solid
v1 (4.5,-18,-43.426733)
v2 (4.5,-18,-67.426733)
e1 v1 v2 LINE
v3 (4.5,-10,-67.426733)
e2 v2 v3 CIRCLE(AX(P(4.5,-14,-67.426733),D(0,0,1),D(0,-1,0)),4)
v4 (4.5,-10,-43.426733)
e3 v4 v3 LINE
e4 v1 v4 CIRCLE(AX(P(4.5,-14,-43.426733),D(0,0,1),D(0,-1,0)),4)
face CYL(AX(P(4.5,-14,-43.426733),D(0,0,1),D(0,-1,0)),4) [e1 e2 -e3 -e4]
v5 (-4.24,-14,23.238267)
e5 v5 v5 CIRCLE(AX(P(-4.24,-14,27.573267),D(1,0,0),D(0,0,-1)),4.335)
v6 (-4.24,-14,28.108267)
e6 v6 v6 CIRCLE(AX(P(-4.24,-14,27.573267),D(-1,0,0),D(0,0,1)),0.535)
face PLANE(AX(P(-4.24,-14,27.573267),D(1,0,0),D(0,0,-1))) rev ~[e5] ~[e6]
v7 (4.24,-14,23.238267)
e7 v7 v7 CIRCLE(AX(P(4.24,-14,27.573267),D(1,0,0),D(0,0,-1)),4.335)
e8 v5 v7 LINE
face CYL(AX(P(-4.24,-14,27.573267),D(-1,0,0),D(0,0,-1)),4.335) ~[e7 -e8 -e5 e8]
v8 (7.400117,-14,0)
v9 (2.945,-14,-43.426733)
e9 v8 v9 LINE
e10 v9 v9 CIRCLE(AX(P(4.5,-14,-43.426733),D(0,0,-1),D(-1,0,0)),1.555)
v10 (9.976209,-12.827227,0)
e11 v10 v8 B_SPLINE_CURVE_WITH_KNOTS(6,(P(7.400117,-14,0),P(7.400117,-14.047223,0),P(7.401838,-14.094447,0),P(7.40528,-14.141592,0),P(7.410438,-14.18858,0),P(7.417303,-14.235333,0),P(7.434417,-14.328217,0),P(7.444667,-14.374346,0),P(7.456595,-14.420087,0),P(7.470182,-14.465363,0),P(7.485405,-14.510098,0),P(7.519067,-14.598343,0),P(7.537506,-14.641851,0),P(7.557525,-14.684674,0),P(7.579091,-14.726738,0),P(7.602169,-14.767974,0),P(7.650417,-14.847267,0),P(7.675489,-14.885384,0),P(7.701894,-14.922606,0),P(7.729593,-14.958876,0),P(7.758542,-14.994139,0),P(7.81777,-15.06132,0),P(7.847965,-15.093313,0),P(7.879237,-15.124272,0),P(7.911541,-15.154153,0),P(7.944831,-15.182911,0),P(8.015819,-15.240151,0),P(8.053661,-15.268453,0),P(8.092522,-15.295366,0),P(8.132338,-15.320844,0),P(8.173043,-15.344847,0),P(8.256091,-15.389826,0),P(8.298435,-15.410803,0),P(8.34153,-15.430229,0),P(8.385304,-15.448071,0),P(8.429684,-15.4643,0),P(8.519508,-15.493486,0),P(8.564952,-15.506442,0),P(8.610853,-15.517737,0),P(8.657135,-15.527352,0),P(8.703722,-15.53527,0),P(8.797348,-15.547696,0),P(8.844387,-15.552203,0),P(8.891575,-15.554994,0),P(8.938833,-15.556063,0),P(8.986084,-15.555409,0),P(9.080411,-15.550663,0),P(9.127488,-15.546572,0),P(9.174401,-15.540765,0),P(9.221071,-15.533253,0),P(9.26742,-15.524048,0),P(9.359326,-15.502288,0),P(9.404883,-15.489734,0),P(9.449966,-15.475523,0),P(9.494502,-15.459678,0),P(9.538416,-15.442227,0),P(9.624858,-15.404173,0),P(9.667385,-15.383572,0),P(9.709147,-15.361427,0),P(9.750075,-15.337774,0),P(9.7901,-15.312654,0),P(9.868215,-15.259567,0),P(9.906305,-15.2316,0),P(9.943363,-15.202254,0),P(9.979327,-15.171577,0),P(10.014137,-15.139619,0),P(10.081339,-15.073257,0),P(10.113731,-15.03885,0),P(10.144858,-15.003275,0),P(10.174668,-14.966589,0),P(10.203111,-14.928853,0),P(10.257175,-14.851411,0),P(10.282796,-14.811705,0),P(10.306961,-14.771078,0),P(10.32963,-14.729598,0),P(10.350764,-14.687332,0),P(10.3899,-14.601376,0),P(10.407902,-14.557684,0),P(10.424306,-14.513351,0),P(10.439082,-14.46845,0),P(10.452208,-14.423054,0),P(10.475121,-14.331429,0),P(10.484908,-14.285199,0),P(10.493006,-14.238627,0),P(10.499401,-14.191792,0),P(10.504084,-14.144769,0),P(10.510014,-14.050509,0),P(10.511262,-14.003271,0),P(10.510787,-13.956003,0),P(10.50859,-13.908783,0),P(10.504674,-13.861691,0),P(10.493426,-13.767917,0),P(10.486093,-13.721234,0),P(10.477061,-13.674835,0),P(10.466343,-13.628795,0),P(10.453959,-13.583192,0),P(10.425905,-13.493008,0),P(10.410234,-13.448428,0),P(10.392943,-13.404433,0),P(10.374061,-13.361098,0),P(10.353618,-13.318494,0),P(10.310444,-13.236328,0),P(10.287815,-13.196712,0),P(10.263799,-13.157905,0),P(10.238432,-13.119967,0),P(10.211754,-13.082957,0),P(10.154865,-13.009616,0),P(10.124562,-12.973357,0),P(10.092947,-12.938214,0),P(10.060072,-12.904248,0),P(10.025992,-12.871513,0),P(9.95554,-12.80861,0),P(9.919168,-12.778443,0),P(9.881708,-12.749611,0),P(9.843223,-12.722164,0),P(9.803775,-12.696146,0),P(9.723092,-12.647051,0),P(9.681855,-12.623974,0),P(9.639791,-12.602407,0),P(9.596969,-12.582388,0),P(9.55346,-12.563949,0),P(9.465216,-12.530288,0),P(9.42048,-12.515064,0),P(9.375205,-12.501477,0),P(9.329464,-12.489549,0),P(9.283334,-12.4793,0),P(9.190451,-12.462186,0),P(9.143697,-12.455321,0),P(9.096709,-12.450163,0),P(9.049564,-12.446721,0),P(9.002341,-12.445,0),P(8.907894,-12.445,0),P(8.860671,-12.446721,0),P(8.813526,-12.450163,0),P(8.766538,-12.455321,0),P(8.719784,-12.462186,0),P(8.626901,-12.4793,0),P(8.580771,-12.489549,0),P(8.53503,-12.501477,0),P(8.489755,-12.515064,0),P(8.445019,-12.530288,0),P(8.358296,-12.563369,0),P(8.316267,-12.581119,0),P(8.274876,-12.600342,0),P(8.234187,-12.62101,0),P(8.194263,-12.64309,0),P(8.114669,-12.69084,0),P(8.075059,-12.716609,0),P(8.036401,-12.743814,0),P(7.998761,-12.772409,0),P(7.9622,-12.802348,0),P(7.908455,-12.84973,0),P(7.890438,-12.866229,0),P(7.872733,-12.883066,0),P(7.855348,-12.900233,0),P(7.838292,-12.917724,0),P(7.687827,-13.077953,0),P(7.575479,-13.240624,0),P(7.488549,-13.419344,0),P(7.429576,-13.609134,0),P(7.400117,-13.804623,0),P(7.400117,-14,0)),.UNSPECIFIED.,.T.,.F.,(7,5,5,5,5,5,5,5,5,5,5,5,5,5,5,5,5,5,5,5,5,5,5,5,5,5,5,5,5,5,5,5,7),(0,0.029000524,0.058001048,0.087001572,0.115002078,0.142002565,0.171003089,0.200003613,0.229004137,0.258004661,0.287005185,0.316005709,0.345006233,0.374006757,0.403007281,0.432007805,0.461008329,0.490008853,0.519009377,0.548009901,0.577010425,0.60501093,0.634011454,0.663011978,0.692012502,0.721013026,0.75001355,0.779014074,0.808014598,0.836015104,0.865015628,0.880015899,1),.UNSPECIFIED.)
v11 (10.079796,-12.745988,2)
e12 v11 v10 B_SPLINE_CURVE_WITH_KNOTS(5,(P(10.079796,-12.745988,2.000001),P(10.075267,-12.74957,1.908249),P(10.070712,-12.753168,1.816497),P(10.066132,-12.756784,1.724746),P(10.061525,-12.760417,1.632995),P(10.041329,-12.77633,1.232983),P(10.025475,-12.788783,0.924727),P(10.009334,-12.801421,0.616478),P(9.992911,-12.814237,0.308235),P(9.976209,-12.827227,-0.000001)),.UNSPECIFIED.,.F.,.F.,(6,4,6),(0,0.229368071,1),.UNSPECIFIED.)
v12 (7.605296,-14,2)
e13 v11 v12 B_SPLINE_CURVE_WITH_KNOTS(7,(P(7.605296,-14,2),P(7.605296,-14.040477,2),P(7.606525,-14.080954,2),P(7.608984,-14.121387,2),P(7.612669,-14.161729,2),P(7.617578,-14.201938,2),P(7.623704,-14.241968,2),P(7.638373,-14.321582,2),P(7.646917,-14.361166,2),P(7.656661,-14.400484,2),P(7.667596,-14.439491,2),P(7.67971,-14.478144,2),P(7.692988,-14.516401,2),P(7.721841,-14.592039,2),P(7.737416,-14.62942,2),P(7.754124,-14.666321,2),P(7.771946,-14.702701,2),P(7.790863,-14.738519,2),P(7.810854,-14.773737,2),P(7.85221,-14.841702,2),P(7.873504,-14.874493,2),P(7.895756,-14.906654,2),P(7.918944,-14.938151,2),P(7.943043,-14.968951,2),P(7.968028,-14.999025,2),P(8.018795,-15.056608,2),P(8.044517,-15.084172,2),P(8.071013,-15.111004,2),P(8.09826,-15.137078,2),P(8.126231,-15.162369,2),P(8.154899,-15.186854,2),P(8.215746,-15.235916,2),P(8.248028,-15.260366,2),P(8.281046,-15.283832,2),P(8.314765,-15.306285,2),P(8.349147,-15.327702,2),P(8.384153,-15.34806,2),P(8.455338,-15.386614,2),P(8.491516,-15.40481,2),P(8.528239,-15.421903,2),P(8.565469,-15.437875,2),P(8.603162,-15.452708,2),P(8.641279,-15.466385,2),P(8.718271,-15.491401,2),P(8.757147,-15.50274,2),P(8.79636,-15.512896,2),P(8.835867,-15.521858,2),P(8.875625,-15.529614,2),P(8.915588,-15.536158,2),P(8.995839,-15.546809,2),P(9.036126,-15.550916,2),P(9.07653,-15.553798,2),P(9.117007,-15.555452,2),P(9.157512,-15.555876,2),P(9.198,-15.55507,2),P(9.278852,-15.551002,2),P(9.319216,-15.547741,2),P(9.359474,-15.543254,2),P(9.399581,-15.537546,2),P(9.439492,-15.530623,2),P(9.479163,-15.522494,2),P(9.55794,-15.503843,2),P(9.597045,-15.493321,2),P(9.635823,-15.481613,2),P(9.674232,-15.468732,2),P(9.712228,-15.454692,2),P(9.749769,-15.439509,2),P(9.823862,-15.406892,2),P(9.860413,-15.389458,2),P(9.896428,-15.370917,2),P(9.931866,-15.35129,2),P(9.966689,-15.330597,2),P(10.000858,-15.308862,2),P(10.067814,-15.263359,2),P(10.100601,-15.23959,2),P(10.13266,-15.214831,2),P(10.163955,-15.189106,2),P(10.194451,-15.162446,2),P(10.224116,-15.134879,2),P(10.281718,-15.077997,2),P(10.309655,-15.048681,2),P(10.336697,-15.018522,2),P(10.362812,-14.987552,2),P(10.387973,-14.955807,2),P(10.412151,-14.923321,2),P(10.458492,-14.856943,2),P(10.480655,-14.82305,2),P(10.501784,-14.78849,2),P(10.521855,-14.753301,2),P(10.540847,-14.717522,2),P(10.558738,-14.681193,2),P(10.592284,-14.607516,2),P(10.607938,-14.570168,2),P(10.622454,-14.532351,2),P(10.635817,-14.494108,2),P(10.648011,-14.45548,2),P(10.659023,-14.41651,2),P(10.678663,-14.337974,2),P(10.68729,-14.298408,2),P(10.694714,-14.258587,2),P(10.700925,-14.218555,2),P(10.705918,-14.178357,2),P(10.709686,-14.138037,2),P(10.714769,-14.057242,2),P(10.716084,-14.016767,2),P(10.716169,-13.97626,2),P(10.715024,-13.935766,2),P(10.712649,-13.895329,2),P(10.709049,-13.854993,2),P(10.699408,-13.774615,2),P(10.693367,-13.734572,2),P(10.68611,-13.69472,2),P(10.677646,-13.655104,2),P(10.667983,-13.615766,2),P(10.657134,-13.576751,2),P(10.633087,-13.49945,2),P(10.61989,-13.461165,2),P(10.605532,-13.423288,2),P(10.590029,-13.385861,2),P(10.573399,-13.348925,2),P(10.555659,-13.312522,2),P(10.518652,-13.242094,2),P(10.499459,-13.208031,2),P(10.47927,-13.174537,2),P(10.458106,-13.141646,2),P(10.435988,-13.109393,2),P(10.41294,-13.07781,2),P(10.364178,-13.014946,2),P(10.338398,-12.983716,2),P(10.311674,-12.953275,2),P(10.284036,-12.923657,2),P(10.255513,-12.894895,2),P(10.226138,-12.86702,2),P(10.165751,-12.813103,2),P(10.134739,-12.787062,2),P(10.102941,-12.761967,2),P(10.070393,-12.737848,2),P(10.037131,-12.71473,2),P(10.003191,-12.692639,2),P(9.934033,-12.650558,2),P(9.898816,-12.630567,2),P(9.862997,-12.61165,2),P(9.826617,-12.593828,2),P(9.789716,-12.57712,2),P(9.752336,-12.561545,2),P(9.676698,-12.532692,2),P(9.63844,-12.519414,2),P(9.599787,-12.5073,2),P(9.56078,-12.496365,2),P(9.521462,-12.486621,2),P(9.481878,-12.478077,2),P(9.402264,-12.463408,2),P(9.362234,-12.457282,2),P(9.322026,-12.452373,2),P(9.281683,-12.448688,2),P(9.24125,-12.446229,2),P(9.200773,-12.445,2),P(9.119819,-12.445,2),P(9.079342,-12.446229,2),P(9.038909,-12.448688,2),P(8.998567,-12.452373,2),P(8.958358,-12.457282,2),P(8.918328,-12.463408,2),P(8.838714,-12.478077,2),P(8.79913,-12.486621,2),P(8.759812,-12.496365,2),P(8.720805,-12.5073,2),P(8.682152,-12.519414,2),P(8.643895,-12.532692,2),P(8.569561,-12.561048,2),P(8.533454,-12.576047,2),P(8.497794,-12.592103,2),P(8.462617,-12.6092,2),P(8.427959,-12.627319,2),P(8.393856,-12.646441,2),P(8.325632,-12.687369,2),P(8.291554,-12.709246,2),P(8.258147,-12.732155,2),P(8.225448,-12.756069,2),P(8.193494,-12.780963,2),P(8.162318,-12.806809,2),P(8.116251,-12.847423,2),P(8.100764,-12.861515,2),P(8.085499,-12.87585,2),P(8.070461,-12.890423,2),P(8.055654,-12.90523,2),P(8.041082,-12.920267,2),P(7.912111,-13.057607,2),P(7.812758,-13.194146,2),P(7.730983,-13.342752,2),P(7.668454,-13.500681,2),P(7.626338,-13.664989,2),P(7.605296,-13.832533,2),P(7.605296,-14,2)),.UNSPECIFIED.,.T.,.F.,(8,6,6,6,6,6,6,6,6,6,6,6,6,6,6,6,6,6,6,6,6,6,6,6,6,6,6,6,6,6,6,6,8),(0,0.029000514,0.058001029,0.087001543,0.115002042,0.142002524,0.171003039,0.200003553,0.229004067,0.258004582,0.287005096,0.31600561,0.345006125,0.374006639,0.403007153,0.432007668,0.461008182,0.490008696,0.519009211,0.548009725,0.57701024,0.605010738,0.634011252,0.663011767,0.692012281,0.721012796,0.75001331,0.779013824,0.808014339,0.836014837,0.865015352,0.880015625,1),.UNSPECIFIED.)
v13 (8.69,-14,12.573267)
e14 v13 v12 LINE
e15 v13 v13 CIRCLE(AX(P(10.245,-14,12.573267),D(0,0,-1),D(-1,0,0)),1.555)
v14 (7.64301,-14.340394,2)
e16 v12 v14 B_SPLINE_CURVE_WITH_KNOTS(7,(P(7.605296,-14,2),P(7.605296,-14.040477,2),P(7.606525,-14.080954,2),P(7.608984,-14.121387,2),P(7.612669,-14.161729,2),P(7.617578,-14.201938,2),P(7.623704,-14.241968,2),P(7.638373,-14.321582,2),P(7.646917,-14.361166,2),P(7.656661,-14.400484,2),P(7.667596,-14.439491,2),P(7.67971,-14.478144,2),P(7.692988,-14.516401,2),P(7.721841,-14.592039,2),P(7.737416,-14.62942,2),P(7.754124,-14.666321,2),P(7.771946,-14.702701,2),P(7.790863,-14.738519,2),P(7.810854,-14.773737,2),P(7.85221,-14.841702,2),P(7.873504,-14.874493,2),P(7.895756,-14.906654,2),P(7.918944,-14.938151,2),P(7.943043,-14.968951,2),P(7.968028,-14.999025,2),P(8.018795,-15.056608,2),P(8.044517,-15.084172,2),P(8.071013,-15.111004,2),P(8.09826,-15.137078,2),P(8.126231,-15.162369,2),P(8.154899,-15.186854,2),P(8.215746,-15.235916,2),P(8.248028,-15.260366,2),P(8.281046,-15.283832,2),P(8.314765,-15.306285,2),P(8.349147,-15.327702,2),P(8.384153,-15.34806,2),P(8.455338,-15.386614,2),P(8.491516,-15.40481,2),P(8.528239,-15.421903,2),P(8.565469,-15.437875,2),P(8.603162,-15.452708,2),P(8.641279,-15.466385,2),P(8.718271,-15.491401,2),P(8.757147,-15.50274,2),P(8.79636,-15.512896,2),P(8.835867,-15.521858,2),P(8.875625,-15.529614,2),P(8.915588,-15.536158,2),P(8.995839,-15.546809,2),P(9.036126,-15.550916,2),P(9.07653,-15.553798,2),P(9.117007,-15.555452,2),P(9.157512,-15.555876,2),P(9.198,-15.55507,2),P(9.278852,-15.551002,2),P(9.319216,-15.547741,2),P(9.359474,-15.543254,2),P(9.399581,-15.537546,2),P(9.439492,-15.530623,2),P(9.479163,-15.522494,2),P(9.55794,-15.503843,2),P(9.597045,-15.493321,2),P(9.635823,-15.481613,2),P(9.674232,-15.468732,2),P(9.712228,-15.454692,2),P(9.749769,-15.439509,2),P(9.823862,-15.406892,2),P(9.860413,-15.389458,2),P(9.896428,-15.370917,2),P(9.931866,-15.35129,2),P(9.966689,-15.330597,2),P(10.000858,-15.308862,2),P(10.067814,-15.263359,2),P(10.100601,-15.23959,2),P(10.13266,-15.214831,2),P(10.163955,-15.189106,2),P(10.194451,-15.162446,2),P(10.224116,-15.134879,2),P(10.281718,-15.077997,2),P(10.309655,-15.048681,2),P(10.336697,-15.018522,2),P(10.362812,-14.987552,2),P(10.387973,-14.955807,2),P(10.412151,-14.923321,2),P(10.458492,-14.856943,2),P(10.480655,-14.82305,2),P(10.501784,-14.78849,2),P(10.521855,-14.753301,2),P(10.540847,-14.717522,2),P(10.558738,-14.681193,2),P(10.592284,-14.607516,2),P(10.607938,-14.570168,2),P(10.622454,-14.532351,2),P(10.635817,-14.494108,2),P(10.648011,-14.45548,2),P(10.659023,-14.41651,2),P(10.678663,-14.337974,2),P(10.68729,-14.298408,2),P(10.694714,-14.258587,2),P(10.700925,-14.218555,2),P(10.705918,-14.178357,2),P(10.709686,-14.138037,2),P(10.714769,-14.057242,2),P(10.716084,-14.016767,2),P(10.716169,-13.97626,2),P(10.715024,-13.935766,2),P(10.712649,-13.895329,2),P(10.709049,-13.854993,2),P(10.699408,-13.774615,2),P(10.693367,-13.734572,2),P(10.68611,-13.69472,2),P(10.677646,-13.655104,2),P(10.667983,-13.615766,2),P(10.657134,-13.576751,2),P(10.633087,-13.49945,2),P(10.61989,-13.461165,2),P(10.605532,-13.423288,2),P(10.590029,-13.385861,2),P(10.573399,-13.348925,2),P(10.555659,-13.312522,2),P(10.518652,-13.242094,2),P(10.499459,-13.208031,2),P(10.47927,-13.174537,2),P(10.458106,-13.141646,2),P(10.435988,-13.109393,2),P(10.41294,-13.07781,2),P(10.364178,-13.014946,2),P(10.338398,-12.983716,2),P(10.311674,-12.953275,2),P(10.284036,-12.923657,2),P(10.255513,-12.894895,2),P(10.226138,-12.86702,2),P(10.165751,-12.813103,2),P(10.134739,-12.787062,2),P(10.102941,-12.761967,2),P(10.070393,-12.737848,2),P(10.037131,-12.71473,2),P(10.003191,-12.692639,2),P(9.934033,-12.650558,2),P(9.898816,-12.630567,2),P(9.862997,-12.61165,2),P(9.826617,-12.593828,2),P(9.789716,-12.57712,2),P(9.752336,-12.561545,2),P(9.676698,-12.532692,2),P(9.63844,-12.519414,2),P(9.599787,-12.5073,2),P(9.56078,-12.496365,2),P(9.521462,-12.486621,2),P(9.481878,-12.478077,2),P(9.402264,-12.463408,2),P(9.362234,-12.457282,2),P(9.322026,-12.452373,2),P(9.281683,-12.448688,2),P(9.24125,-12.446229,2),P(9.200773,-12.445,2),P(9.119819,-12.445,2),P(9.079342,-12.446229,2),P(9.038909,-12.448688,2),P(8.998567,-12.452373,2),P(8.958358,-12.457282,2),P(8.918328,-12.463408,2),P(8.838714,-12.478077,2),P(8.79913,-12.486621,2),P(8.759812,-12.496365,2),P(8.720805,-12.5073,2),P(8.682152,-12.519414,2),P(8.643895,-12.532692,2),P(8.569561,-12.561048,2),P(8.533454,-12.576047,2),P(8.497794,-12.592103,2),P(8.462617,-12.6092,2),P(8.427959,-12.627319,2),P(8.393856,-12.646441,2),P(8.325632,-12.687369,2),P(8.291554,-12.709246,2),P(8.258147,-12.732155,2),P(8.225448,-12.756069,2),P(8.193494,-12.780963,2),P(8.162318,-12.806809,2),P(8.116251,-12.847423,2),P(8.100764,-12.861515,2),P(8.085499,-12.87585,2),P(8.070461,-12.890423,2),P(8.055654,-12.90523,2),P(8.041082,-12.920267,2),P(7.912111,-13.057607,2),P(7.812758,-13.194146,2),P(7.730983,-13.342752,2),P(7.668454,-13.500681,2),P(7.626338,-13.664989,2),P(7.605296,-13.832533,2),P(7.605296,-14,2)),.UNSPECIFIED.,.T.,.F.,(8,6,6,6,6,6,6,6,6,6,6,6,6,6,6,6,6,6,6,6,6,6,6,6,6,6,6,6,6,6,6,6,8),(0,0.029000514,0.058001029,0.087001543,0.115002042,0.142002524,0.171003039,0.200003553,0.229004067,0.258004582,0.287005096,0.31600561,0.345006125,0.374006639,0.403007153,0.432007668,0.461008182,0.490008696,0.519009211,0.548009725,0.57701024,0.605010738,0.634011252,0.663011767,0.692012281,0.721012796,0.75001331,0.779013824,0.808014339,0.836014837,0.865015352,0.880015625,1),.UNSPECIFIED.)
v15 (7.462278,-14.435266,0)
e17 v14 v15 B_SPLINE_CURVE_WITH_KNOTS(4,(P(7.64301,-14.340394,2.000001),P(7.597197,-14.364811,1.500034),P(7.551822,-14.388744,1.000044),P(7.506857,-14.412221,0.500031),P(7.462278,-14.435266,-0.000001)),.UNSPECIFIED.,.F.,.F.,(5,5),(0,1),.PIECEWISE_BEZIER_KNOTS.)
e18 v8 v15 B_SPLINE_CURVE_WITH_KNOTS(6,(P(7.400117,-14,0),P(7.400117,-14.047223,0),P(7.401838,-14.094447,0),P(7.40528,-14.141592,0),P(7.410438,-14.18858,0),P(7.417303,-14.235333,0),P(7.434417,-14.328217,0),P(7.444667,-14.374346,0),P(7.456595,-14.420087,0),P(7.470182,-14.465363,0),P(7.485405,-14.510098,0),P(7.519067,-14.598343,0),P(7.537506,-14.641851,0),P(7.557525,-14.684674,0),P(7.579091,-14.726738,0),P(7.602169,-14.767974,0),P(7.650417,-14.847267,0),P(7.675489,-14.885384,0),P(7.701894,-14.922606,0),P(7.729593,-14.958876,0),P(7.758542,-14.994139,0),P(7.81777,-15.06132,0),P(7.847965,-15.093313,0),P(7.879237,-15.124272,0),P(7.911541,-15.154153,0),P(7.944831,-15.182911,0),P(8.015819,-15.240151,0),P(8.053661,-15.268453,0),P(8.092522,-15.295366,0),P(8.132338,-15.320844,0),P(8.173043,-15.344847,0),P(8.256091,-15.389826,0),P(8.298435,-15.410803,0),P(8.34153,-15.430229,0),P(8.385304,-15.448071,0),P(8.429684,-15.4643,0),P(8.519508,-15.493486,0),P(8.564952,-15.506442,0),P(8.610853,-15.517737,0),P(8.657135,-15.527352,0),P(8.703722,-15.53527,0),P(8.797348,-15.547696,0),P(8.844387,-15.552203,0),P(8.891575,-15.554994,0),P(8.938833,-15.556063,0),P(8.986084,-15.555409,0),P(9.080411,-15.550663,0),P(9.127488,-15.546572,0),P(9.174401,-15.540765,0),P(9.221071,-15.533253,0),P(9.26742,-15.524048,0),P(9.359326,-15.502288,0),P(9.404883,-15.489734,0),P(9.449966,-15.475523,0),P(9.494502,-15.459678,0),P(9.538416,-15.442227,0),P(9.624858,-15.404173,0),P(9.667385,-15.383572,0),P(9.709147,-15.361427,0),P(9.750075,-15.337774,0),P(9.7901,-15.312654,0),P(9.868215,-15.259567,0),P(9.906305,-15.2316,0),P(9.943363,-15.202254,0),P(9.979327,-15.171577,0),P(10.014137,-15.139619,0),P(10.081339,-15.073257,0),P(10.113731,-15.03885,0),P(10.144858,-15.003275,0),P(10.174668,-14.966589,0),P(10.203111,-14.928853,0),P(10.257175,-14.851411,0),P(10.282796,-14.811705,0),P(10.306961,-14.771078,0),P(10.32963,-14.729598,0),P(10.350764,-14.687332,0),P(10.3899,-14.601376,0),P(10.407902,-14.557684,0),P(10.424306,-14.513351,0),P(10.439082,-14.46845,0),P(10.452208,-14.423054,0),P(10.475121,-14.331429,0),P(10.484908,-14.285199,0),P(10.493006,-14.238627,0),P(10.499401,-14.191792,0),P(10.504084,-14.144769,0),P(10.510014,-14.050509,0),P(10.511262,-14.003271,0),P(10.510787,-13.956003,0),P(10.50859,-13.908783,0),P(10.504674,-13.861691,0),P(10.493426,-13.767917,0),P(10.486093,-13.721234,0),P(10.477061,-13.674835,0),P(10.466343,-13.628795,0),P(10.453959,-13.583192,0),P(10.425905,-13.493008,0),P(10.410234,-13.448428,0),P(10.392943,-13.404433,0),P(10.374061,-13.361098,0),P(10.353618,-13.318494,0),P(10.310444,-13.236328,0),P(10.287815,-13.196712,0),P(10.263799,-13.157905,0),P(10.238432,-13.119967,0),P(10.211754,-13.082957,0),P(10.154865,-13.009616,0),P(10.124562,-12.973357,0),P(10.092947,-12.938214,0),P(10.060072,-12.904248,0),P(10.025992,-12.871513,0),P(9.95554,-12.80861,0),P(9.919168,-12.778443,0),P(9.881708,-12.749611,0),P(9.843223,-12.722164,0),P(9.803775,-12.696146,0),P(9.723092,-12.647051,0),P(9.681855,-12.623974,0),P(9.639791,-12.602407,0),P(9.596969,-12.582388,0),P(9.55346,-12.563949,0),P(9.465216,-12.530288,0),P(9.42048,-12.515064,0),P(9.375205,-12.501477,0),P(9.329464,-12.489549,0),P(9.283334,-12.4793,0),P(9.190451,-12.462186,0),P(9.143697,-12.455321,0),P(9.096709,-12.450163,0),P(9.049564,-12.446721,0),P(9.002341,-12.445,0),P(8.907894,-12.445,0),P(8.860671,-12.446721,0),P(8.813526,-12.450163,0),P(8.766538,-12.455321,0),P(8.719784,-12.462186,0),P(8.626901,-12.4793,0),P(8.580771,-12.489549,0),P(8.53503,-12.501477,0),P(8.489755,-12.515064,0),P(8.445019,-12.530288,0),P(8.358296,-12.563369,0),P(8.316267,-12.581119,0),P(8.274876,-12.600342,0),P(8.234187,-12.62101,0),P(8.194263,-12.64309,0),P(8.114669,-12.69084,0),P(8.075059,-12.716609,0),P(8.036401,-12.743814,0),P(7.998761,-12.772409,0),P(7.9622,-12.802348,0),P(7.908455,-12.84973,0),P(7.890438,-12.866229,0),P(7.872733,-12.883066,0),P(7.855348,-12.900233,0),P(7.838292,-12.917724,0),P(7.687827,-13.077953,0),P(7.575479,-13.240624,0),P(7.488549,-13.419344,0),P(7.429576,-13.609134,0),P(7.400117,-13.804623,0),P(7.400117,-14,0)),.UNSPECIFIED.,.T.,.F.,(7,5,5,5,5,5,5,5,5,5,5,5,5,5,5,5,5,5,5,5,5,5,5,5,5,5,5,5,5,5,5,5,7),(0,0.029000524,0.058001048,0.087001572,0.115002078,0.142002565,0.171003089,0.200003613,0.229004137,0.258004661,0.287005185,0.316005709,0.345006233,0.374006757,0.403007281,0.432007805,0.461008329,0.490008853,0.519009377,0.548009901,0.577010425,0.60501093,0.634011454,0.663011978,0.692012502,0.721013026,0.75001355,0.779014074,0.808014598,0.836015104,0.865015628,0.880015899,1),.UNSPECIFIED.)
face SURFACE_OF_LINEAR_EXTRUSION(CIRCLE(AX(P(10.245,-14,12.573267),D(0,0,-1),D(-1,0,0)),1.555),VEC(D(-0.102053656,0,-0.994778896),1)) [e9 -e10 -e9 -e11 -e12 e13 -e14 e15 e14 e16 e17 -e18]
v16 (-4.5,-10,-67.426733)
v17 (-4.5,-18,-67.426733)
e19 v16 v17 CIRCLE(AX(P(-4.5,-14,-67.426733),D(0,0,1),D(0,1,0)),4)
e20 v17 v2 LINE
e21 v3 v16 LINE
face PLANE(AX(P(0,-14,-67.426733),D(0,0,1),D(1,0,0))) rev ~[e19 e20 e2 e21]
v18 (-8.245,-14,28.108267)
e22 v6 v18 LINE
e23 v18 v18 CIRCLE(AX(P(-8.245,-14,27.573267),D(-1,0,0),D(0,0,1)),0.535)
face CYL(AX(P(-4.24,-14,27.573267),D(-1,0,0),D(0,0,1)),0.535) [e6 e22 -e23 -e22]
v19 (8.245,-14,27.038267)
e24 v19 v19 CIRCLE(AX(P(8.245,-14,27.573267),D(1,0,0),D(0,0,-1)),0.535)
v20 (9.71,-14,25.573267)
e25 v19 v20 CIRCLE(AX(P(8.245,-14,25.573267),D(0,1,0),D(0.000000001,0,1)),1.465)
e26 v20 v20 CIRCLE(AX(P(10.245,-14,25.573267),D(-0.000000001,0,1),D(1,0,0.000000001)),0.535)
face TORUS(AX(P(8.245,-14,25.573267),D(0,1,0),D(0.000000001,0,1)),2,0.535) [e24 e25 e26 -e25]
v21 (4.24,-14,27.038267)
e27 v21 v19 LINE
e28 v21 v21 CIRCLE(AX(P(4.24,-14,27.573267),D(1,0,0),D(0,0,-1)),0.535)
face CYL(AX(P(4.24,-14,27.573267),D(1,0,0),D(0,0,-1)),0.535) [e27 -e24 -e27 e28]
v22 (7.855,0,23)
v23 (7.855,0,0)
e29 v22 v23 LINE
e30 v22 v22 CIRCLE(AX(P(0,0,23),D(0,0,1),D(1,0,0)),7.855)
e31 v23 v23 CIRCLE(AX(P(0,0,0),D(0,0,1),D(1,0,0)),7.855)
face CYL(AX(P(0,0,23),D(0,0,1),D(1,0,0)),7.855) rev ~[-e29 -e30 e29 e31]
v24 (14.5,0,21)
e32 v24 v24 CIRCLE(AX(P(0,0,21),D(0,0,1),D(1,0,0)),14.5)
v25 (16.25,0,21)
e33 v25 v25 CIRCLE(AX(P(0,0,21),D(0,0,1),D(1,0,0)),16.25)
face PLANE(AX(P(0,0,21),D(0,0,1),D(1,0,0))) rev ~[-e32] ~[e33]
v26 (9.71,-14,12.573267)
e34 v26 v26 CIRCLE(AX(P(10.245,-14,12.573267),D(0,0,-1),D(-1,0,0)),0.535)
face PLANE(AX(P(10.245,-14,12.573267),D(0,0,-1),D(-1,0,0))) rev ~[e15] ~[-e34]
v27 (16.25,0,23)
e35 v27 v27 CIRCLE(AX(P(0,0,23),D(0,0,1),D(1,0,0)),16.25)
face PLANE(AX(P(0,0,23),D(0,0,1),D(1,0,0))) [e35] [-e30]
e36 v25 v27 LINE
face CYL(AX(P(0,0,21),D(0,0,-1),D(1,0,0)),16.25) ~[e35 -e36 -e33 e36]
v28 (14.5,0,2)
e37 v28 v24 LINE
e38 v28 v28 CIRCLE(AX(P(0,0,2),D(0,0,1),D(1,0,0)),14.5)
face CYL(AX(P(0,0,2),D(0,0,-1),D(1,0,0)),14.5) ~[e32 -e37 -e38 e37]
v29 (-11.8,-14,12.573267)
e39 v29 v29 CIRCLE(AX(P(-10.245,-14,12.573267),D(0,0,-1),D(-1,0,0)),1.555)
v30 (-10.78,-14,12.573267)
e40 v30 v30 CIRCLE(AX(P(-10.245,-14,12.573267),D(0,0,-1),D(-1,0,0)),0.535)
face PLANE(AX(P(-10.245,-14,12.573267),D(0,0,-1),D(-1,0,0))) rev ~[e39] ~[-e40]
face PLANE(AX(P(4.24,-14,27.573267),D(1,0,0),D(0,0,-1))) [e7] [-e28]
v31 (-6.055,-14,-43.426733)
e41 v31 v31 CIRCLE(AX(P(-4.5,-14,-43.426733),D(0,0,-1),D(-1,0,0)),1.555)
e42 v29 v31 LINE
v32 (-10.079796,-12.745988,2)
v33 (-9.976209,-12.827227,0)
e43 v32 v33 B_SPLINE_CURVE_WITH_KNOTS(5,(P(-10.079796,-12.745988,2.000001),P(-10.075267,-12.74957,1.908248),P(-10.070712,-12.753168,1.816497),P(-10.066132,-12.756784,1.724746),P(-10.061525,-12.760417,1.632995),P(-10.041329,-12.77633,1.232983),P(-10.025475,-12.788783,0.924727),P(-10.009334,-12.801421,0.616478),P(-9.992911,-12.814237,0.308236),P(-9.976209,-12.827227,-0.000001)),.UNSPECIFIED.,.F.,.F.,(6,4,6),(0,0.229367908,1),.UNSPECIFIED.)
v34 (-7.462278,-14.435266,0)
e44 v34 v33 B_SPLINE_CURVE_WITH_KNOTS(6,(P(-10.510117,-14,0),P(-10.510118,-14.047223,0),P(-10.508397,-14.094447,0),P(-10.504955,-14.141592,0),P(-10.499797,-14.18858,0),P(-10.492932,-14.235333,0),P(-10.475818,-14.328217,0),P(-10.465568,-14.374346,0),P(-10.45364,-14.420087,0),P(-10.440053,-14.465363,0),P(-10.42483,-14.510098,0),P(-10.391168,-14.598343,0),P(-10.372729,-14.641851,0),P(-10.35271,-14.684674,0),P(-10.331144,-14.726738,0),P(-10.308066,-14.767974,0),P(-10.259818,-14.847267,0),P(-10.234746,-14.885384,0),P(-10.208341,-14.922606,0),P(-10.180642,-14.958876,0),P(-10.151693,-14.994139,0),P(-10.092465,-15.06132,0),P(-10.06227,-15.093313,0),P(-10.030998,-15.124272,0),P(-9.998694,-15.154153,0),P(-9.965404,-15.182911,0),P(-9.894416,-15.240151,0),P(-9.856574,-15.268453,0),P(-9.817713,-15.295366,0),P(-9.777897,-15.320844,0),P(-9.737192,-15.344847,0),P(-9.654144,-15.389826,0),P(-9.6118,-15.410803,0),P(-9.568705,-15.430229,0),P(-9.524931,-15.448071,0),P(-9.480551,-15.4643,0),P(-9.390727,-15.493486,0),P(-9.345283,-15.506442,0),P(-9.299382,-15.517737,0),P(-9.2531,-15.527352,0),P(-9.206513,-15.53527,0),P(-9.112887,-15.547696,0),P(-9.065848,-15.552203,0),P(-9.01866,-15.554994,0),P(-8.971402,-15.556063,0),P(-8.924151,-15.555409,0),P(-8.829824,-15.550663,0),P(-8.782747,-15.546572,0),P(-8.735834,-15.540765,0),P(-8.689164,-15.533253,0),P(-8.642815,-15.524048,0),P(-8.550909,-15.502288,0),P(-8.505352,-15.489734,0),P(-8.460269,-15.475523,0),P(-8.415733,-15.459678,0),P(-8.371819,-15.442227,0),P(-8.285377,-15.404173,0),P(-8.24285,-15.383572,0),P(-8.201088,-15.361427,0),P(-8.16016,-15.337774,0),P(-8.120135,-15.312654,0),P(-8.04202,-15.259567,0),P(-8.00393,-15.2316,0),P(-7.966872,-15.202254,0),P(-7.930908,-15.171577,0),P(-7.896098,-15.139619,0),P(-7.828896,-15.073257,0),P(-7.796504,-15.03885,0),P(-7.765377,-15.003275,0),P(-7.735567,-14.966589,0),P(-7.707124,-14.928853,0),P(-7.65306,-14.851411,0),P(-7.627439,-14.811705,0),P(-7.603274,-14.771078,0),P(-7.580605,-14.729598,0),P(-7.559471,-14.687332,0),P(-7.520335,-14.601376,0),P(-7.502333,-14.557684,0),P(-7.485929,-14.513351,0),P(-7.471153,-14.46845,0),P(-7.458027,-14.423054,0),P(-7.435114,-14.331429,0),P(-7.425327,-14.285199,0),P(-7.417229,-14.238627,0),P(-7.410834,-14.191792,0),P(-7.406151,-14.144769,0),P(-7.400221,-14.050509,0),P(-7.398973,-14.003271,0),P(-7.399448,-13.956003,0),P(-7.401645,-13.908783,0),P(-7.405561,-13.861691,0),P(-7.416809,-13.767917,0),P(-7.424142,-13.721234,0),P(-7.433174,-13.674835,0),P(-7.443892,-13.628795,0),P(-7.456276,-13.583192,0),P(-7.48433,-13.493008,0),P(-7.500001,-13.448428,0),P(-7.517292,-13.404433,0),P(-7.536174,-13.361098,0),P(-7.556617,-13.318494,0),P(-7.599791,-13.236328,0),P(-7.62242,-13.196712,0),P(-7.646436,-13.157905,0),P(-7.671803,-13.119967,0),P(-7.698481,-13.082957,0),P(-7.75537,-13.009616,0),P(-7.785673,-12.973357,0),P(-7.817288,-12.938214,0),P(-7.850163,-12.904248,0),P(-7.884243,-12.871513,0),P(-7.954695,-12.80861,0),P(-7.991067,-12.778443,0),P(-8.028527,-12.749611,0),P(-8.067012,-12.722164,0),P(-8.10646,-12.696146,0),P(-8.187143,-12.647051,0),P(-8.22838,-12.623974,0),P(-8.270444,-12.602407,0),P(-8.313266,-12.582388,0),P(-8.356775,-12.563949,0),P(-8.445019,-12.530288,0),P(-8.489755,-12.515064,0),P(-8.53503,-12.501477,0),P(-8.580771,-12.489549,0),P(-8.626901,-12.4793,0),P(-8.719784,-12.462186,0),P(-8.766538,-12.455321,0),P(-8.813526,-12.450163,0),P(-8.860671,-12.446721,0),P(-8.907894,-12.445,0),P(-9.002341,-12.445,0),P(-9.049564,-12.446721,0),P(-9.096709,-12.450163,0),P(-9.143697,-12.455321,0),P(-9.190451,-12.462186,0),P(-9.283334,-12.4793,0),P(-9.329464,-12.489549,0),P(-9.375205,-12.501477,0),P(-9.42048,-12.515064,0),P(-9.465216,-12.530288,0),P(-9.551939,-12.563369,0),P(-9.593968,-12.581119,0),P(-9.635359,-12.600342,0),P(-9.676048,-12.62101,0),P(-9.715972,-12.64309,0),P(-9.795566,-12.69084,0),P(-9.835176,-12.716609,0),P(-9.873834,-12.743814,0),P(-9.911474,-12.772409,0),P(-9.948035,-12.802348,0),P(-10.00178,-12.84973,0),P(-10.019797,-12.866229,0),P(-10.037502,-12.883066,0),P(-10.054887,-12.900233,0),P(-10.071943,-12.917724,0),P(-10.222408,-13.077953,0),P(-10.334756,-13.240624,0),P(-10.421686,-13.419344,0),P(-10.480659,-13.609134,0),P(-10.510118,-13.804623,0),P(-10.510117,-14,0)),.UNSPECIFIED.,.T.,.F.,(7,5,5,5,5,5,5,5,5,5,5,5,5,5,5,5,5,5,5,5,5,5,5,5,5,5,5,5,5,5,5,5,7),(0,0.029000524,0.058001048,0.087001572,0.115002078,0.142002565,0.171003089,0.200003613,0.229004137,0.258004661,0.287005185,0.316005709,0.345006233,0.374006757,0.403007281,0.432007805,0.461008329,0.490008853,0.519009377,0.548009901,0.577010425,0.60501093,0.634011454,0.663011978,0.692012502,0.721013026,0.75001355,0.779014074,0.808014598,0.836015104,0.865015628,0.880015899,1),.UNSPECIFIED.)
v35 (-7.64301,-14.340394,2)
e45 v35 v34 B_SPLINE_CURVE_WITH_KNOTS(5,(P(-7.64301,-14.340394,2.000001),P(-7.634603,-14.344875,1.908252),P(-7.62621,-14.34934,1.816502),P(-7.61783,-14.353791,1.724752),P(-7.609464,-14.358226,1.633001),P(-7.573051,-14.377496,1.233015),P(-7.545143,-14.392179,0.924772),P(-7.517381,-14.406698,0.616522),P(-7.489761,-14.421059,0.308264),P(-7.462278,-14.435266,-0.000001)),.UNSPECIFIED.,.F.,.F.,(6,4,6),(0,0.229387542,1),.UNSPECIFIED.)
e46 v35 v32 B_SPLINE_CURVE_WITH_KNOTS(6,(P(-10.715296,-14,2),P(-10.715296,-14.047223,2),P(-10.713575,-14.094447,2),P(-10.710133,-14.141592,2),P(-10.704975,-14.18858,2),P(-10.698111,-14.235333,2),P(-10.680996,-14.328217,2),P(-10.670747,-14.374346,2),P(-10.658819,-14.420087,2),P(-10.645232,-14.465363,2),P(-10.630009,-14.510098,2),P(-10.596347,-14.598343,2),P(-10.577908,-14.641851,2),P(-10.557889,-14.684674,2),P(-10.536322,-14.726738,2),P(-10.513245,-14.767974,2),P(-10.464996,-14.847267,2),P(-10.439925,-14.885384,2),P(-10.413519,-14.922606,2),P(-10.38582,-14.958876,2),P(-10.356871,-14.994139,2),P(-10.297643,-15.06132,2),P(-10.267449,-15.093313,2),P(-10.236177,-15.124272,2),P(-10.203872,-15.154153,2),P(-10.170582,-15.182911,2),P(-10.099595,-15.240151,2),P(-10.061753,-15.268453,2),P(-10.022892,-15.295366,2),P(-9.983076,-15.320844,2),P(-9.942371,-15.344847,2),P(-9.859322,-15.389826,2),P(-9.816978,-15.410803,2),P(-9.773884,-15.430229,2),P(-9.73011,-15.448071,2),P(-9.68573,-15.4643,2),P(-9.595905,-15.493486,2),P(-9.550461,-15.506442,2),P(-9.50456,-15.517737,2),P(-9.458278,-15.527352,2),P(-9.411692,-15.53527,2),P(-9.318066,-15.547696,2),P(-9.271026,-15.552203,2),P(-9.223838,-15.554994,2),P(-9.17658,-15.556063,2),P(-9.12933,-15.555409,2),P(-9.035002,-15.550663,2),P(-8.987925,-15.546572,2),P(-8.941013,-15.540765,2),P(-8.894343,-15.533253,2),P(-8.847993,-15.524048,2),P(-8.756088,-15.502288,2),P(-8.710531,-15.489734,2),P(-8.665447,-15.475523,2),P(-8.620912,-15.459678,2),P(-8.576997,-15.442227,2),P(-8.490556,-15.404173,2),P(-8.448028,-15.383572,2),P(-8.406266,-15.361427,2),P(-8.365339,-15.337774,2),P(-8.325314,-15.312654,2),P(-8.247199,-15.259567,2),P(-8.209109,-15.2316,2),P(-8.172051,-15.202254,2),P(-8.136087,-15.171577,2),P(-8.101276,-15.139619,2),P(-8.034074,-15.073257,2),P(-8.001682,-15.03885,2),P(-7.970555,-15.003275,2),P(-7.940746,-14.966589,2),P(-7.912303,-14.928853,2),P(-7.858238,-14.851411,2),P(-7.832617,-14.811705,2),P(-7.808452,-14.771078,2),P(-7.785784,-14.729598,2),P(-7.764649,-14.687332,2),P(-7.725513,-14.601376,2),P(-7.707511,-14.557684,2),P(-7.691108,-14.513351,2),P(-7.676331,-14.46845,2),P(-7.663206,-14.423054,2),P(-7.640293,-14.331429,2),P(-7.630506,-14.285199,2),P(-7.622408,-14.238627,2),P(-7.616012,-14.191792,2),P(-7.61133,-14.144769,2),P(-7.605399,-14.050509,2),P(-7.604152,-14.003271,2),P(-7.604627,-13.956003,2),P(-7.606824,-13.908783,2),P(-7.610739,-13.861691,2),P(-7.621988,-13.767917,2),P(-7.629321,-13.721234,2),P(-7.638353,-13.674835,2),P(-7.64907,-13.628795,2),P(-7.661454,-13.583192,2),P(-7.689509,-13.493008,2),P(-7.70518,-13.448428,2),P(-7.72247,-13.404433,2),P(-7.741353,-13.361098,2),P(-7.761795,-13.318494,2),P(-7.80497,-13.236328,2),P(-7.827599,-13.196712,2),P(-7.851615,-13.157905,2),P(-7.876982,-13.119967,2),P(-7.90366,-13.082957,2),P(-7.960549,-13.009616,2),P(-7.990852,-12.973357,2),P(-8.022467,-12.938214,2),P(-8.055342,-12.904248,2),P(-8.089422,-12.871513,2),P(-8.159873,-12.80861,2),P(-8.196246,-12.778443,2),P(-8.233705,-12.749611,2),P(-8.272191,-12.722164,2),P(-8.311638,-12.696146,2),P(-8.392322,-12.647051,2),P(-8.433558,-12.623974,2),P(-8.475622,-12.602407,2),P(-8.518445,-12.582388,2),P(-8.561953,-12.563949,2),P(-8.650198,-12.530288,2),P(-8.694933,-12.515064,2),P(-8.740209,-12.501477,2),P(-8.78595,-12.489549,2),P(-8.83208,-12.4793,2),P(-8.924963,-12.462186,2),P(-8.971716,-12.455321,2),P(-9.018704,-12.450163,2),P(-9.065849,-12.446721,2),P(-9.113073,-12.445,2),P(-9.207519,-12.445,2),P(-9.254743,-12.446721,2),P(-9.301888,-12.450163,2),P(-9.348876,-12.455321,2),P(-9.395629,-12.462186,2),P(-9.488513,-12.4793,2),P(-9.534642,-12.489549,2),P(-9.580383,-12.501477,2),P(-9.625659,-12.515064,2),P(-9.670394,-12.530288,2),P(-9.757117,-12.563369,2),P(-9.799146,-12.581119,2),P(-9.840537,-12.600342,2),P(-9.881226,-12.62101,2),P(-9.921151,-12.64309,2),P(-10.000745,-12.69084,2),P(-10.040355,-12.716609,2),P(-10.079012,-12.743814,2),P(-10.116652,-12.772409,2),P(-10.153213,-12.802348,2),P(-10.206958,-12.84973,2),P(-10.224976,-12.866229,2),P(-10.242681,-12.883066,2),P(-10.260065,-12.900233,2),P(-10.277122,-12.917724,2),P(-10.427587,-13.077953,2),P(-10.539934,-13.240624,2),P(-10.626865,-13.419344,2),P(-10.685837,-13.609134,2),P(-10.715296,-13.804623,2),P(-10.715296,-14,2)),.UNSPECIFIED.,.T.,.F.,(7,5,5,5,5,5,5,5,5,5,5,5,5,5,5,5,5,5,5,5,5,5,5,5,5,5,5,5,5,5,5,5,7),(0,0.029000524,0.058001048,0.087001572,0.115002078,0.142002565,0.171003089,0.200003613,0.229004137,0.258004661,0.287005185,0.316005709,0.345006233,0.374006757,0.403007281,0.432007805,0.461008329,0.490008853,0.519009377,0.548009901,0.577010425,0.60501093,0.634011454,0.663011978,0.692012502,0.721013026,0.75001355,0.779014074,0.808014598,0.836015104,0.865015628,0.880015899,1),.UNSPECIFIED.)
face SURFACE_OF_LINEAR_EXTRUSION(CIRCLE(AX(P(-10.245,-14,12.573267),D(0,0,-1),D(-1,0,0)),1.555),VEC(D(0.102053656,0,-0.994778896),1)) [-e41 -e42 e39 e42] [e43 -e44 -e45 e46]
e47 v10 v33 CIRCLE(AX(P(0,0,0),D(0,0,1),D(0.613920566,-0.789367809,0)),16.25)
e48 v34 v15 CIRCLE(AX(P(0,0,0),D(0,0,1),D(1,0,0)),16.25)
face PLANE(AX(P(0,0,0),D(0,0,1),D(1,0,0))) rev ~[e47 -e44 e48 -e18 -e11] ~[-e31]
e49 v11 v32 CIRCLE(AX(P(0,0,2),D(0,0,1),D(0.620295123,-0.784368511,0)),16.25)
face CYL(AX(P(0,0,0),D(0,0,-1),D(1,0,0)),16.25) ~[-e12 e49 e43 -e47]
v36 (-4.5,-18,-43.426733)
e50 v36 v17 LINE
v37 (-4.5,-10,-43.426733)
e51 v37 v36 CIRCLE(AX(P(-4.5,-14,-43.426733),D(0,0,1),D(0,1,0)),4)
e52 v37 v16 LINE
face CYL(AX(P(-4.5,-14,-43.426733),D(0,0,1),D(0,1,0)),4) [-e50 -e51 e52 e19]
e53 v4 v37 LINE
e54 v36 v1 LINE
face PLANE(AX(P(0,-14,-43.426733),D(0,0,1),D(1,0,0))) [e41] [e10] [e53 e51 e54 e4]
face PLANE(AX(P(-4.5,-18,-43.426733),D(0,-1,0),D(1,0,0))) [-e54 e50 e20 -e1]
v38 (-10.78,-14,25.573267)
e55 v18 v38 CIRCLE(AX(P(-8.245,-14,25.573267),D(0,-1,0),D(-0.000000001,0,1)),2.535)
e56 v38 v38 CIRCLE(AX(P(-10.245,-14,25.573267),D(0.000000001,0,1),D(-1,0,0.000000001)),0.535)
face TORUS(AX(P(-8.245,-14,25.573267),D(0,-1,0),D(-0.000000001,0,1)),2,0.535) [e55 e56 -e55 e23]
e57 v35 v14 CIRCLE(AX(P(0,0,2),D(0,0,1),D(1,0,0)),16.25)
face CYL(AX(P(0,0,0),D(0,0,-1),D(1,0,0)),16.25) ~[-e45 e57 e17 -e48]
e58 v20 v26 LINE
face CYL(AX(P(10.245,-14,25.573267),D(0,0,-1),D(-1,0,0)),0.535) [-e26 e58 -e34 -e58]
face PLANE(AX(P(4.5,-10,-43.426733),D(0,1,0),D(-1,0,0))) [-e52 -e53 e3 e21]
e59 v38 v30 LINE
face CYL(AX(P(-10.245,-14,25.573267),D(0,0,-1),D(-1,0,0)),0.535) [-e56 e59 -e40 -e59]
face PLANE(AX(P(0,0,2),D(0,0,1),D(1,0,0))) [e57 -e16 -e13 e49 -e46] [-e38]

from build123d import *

# Parameters (mm, degrees)
SKETCH1_R                = 16.25
BOSS_EXTRUDE1_DEPTH      = 2
SKETCH2_R                = 14.5
BOSS_EXTRUDE2_DEPTH      = 19
SKETCH3_R                = 16.25
BOSS_EXTRUDE3_DEPTH      = 2
SKETCH4_R                = 7.855
CUT_EXTRUDE1_DEPTH       = 33.513458752
BOSS_EXTRUDE4_DEPTH      = 4.24
BOSS_EXTRUDE4_DEPTH_BACK = 4.24
SKETCH5_R                = 4.335
SKETCH7_R                = 0.535
SKETCH9_R                = 0.535
SKETCH11_R               = 1.555
SKETCH12_R               = 1.555
BOSS_EXTRUDE5_DEPTH      = 24


with BuildPart() as part:
    # Sketch1 → Boss-Extrude1 (new body)
    with BuildSketch(Plane.XY):
        Circle(SKETCH1_R)
    extrude(amount=BOSS_EXTRUDE1_DEPTH)

    # Sketch2 → Boss-Extrude2 (add)
    with BuildSketch(Plane.XY.offset(2)):
        Circle(SKETCH2_R)
    extrude(amount=BOSS_EXTRUDE2_DEPTH)

    # Sketch3 → Boss-Extrude3 (add)
    with BuildSketch(Plane.XY.offset(21)):
        Circle(SKETCH3_R)
    extrude(amount=BOSS_EXTRUDE3_DEPTH)

    # Sketch4 → Cut-Extrude1 (cut, through all)
    with BuildSketch(Plane.XY.offset(23)):
        Circle(SKETCH4_R)
    extrude(amount=-CUT_EXTRUDE1_DEPTH, mode=Mode.SUBTRACT)



with BuildPart() as body_2:
    # Sketch5 → Boss-Extrude4 (new, two sides: drawn at the far end of the back side and taken through both)
    with BuildSketch(Plane(origin=(0, 0, 0), x_dir=(0, 0, -1), z_dir=(1, 0, 0)).offset(-BOSS_EXTRUDE4_DEPTH_BACK)):
        with Locations((-27.57326721, -14)):
            Circle(SKETCH5_R)
    extrude(amount=BOSS_EXTRUDE4_DEPTH + BOSS_EXTRUDE4_DEPTH_BACK)

    # Sweep2: sweep along a path in Sketch6
    with BuildLine(Plane(origin=(0, -14, 0), x_dir=(1, 0, 0), z_dir=(0, 1, 0))) as sweep2_path:
        Line((4.24, -27.57326721), (8.245, -27.57326721))
        ThreePointArc((8.245, -27.57326721), (9.659213562, -26.987480772), (10.245, -25.57326721))
        Line((10.245, -25.57326721), (10.245, -12.57326721))
    # Sketch7 → Sweep2 (sweep)
    with BuildSketch(Plane(origin=(4.24, 0, 0), x_dir=(0, 0, -1), z_dir=(1, 0, 0))):
        with Locations((-27.57326721, -14)):
            Circle(SKETCH7_R)
    sweep(path=sweep2_path.line)

    # Sweep6: sweep along a path in Sketch6<5>
    with BuildLine(Plane(origin=(0, -14, 0), x_dir=(1, 0, 0), z_dir=(0, 1, 0))) as sweep6_path:
        Line((-4.24, -27.57326721), (-8.245, -27.57326721))
        ThreePointArc((-8.245, -27.57326721), (-9.659213562, -26.987480772), (-10.245, -25.57326721))
        Line((-10.245, -25.57326721), (-10.245, -12.57326721))
    # Sketch9 → Sweep6 (sweep)
    with BuildSketch(Plane.ZY.offset(4.24)):
        with Locations((27.57326721, -14)):
            Circle(SKETCH9_R)
    sweep(path=sweep6_path.line)


with BuildPart() as part_1:
    add(part.part)

    add(body_2.part)  # Sweep7 merges body 2
    # Sweep7: sweep along a path in Sketch10
    with BuildLine(Plane(origin=(0, -14, 0), x_dir=(1, 0, 0), z_dir=(0, 1, 0))) as sweep7_path:
        Line((-10.245, -12.57326721), (-4.5, 43.42673279))
    # Sketch11 → Sweep7 (sweep)
    with BuildSketch(Plane(origin=(0, 0, 12.57326721), x_dir=(-1, 0, 0), z_dir=(0, 0, -1))):
        with Locations((10.245, -14)):
            Circle(SKETCH11_R)
    sweep(path=sweep7_path.line)

    # Sweep14: sweep along a path in Sketch13
    with BuildLine(Plane(origin=(0, -14, 0), x_dir=(1, 0, 0), z_dir=(0, 1, 0))) as sweep14_path:
        Line((10.245, -12.57326721), (4.5, 43.42673279))
    # Sketch12 → Sweep14 (sweep)
    with BuildSketch(Plane(origin=(0, 0, 12.57326721), x_dir=(-1, 0, 0), z_dir=(0, 0, -1))):
        with Locations((-10.245, -14)):
            Circle(SKETCH12_R)
    sweep(path=sweep14_path.line)

    # Sketch14 → Boss-Extrude5 (add)
    with BuildSketch(Plane(origin=(0, 0, -43.42673279), x_dir=(-1, 0, 0), z_dir=(0, 0, -1))):
        with BuildLine():
            Line((4.5, -18), (-4.5, -18))
            ThreePointArc((-4.5, -18), (-8.5, -14), (-4.5, -10))
            Line((-4.5, -10), (4.5, -10))
            ThreePointArc((4.5, -10), (8.5, -14), (4.5, -18))
        make_face()
    extrude(amount=BOSS_EXTRUDE5_DEPTH)


solid = part_1.part
